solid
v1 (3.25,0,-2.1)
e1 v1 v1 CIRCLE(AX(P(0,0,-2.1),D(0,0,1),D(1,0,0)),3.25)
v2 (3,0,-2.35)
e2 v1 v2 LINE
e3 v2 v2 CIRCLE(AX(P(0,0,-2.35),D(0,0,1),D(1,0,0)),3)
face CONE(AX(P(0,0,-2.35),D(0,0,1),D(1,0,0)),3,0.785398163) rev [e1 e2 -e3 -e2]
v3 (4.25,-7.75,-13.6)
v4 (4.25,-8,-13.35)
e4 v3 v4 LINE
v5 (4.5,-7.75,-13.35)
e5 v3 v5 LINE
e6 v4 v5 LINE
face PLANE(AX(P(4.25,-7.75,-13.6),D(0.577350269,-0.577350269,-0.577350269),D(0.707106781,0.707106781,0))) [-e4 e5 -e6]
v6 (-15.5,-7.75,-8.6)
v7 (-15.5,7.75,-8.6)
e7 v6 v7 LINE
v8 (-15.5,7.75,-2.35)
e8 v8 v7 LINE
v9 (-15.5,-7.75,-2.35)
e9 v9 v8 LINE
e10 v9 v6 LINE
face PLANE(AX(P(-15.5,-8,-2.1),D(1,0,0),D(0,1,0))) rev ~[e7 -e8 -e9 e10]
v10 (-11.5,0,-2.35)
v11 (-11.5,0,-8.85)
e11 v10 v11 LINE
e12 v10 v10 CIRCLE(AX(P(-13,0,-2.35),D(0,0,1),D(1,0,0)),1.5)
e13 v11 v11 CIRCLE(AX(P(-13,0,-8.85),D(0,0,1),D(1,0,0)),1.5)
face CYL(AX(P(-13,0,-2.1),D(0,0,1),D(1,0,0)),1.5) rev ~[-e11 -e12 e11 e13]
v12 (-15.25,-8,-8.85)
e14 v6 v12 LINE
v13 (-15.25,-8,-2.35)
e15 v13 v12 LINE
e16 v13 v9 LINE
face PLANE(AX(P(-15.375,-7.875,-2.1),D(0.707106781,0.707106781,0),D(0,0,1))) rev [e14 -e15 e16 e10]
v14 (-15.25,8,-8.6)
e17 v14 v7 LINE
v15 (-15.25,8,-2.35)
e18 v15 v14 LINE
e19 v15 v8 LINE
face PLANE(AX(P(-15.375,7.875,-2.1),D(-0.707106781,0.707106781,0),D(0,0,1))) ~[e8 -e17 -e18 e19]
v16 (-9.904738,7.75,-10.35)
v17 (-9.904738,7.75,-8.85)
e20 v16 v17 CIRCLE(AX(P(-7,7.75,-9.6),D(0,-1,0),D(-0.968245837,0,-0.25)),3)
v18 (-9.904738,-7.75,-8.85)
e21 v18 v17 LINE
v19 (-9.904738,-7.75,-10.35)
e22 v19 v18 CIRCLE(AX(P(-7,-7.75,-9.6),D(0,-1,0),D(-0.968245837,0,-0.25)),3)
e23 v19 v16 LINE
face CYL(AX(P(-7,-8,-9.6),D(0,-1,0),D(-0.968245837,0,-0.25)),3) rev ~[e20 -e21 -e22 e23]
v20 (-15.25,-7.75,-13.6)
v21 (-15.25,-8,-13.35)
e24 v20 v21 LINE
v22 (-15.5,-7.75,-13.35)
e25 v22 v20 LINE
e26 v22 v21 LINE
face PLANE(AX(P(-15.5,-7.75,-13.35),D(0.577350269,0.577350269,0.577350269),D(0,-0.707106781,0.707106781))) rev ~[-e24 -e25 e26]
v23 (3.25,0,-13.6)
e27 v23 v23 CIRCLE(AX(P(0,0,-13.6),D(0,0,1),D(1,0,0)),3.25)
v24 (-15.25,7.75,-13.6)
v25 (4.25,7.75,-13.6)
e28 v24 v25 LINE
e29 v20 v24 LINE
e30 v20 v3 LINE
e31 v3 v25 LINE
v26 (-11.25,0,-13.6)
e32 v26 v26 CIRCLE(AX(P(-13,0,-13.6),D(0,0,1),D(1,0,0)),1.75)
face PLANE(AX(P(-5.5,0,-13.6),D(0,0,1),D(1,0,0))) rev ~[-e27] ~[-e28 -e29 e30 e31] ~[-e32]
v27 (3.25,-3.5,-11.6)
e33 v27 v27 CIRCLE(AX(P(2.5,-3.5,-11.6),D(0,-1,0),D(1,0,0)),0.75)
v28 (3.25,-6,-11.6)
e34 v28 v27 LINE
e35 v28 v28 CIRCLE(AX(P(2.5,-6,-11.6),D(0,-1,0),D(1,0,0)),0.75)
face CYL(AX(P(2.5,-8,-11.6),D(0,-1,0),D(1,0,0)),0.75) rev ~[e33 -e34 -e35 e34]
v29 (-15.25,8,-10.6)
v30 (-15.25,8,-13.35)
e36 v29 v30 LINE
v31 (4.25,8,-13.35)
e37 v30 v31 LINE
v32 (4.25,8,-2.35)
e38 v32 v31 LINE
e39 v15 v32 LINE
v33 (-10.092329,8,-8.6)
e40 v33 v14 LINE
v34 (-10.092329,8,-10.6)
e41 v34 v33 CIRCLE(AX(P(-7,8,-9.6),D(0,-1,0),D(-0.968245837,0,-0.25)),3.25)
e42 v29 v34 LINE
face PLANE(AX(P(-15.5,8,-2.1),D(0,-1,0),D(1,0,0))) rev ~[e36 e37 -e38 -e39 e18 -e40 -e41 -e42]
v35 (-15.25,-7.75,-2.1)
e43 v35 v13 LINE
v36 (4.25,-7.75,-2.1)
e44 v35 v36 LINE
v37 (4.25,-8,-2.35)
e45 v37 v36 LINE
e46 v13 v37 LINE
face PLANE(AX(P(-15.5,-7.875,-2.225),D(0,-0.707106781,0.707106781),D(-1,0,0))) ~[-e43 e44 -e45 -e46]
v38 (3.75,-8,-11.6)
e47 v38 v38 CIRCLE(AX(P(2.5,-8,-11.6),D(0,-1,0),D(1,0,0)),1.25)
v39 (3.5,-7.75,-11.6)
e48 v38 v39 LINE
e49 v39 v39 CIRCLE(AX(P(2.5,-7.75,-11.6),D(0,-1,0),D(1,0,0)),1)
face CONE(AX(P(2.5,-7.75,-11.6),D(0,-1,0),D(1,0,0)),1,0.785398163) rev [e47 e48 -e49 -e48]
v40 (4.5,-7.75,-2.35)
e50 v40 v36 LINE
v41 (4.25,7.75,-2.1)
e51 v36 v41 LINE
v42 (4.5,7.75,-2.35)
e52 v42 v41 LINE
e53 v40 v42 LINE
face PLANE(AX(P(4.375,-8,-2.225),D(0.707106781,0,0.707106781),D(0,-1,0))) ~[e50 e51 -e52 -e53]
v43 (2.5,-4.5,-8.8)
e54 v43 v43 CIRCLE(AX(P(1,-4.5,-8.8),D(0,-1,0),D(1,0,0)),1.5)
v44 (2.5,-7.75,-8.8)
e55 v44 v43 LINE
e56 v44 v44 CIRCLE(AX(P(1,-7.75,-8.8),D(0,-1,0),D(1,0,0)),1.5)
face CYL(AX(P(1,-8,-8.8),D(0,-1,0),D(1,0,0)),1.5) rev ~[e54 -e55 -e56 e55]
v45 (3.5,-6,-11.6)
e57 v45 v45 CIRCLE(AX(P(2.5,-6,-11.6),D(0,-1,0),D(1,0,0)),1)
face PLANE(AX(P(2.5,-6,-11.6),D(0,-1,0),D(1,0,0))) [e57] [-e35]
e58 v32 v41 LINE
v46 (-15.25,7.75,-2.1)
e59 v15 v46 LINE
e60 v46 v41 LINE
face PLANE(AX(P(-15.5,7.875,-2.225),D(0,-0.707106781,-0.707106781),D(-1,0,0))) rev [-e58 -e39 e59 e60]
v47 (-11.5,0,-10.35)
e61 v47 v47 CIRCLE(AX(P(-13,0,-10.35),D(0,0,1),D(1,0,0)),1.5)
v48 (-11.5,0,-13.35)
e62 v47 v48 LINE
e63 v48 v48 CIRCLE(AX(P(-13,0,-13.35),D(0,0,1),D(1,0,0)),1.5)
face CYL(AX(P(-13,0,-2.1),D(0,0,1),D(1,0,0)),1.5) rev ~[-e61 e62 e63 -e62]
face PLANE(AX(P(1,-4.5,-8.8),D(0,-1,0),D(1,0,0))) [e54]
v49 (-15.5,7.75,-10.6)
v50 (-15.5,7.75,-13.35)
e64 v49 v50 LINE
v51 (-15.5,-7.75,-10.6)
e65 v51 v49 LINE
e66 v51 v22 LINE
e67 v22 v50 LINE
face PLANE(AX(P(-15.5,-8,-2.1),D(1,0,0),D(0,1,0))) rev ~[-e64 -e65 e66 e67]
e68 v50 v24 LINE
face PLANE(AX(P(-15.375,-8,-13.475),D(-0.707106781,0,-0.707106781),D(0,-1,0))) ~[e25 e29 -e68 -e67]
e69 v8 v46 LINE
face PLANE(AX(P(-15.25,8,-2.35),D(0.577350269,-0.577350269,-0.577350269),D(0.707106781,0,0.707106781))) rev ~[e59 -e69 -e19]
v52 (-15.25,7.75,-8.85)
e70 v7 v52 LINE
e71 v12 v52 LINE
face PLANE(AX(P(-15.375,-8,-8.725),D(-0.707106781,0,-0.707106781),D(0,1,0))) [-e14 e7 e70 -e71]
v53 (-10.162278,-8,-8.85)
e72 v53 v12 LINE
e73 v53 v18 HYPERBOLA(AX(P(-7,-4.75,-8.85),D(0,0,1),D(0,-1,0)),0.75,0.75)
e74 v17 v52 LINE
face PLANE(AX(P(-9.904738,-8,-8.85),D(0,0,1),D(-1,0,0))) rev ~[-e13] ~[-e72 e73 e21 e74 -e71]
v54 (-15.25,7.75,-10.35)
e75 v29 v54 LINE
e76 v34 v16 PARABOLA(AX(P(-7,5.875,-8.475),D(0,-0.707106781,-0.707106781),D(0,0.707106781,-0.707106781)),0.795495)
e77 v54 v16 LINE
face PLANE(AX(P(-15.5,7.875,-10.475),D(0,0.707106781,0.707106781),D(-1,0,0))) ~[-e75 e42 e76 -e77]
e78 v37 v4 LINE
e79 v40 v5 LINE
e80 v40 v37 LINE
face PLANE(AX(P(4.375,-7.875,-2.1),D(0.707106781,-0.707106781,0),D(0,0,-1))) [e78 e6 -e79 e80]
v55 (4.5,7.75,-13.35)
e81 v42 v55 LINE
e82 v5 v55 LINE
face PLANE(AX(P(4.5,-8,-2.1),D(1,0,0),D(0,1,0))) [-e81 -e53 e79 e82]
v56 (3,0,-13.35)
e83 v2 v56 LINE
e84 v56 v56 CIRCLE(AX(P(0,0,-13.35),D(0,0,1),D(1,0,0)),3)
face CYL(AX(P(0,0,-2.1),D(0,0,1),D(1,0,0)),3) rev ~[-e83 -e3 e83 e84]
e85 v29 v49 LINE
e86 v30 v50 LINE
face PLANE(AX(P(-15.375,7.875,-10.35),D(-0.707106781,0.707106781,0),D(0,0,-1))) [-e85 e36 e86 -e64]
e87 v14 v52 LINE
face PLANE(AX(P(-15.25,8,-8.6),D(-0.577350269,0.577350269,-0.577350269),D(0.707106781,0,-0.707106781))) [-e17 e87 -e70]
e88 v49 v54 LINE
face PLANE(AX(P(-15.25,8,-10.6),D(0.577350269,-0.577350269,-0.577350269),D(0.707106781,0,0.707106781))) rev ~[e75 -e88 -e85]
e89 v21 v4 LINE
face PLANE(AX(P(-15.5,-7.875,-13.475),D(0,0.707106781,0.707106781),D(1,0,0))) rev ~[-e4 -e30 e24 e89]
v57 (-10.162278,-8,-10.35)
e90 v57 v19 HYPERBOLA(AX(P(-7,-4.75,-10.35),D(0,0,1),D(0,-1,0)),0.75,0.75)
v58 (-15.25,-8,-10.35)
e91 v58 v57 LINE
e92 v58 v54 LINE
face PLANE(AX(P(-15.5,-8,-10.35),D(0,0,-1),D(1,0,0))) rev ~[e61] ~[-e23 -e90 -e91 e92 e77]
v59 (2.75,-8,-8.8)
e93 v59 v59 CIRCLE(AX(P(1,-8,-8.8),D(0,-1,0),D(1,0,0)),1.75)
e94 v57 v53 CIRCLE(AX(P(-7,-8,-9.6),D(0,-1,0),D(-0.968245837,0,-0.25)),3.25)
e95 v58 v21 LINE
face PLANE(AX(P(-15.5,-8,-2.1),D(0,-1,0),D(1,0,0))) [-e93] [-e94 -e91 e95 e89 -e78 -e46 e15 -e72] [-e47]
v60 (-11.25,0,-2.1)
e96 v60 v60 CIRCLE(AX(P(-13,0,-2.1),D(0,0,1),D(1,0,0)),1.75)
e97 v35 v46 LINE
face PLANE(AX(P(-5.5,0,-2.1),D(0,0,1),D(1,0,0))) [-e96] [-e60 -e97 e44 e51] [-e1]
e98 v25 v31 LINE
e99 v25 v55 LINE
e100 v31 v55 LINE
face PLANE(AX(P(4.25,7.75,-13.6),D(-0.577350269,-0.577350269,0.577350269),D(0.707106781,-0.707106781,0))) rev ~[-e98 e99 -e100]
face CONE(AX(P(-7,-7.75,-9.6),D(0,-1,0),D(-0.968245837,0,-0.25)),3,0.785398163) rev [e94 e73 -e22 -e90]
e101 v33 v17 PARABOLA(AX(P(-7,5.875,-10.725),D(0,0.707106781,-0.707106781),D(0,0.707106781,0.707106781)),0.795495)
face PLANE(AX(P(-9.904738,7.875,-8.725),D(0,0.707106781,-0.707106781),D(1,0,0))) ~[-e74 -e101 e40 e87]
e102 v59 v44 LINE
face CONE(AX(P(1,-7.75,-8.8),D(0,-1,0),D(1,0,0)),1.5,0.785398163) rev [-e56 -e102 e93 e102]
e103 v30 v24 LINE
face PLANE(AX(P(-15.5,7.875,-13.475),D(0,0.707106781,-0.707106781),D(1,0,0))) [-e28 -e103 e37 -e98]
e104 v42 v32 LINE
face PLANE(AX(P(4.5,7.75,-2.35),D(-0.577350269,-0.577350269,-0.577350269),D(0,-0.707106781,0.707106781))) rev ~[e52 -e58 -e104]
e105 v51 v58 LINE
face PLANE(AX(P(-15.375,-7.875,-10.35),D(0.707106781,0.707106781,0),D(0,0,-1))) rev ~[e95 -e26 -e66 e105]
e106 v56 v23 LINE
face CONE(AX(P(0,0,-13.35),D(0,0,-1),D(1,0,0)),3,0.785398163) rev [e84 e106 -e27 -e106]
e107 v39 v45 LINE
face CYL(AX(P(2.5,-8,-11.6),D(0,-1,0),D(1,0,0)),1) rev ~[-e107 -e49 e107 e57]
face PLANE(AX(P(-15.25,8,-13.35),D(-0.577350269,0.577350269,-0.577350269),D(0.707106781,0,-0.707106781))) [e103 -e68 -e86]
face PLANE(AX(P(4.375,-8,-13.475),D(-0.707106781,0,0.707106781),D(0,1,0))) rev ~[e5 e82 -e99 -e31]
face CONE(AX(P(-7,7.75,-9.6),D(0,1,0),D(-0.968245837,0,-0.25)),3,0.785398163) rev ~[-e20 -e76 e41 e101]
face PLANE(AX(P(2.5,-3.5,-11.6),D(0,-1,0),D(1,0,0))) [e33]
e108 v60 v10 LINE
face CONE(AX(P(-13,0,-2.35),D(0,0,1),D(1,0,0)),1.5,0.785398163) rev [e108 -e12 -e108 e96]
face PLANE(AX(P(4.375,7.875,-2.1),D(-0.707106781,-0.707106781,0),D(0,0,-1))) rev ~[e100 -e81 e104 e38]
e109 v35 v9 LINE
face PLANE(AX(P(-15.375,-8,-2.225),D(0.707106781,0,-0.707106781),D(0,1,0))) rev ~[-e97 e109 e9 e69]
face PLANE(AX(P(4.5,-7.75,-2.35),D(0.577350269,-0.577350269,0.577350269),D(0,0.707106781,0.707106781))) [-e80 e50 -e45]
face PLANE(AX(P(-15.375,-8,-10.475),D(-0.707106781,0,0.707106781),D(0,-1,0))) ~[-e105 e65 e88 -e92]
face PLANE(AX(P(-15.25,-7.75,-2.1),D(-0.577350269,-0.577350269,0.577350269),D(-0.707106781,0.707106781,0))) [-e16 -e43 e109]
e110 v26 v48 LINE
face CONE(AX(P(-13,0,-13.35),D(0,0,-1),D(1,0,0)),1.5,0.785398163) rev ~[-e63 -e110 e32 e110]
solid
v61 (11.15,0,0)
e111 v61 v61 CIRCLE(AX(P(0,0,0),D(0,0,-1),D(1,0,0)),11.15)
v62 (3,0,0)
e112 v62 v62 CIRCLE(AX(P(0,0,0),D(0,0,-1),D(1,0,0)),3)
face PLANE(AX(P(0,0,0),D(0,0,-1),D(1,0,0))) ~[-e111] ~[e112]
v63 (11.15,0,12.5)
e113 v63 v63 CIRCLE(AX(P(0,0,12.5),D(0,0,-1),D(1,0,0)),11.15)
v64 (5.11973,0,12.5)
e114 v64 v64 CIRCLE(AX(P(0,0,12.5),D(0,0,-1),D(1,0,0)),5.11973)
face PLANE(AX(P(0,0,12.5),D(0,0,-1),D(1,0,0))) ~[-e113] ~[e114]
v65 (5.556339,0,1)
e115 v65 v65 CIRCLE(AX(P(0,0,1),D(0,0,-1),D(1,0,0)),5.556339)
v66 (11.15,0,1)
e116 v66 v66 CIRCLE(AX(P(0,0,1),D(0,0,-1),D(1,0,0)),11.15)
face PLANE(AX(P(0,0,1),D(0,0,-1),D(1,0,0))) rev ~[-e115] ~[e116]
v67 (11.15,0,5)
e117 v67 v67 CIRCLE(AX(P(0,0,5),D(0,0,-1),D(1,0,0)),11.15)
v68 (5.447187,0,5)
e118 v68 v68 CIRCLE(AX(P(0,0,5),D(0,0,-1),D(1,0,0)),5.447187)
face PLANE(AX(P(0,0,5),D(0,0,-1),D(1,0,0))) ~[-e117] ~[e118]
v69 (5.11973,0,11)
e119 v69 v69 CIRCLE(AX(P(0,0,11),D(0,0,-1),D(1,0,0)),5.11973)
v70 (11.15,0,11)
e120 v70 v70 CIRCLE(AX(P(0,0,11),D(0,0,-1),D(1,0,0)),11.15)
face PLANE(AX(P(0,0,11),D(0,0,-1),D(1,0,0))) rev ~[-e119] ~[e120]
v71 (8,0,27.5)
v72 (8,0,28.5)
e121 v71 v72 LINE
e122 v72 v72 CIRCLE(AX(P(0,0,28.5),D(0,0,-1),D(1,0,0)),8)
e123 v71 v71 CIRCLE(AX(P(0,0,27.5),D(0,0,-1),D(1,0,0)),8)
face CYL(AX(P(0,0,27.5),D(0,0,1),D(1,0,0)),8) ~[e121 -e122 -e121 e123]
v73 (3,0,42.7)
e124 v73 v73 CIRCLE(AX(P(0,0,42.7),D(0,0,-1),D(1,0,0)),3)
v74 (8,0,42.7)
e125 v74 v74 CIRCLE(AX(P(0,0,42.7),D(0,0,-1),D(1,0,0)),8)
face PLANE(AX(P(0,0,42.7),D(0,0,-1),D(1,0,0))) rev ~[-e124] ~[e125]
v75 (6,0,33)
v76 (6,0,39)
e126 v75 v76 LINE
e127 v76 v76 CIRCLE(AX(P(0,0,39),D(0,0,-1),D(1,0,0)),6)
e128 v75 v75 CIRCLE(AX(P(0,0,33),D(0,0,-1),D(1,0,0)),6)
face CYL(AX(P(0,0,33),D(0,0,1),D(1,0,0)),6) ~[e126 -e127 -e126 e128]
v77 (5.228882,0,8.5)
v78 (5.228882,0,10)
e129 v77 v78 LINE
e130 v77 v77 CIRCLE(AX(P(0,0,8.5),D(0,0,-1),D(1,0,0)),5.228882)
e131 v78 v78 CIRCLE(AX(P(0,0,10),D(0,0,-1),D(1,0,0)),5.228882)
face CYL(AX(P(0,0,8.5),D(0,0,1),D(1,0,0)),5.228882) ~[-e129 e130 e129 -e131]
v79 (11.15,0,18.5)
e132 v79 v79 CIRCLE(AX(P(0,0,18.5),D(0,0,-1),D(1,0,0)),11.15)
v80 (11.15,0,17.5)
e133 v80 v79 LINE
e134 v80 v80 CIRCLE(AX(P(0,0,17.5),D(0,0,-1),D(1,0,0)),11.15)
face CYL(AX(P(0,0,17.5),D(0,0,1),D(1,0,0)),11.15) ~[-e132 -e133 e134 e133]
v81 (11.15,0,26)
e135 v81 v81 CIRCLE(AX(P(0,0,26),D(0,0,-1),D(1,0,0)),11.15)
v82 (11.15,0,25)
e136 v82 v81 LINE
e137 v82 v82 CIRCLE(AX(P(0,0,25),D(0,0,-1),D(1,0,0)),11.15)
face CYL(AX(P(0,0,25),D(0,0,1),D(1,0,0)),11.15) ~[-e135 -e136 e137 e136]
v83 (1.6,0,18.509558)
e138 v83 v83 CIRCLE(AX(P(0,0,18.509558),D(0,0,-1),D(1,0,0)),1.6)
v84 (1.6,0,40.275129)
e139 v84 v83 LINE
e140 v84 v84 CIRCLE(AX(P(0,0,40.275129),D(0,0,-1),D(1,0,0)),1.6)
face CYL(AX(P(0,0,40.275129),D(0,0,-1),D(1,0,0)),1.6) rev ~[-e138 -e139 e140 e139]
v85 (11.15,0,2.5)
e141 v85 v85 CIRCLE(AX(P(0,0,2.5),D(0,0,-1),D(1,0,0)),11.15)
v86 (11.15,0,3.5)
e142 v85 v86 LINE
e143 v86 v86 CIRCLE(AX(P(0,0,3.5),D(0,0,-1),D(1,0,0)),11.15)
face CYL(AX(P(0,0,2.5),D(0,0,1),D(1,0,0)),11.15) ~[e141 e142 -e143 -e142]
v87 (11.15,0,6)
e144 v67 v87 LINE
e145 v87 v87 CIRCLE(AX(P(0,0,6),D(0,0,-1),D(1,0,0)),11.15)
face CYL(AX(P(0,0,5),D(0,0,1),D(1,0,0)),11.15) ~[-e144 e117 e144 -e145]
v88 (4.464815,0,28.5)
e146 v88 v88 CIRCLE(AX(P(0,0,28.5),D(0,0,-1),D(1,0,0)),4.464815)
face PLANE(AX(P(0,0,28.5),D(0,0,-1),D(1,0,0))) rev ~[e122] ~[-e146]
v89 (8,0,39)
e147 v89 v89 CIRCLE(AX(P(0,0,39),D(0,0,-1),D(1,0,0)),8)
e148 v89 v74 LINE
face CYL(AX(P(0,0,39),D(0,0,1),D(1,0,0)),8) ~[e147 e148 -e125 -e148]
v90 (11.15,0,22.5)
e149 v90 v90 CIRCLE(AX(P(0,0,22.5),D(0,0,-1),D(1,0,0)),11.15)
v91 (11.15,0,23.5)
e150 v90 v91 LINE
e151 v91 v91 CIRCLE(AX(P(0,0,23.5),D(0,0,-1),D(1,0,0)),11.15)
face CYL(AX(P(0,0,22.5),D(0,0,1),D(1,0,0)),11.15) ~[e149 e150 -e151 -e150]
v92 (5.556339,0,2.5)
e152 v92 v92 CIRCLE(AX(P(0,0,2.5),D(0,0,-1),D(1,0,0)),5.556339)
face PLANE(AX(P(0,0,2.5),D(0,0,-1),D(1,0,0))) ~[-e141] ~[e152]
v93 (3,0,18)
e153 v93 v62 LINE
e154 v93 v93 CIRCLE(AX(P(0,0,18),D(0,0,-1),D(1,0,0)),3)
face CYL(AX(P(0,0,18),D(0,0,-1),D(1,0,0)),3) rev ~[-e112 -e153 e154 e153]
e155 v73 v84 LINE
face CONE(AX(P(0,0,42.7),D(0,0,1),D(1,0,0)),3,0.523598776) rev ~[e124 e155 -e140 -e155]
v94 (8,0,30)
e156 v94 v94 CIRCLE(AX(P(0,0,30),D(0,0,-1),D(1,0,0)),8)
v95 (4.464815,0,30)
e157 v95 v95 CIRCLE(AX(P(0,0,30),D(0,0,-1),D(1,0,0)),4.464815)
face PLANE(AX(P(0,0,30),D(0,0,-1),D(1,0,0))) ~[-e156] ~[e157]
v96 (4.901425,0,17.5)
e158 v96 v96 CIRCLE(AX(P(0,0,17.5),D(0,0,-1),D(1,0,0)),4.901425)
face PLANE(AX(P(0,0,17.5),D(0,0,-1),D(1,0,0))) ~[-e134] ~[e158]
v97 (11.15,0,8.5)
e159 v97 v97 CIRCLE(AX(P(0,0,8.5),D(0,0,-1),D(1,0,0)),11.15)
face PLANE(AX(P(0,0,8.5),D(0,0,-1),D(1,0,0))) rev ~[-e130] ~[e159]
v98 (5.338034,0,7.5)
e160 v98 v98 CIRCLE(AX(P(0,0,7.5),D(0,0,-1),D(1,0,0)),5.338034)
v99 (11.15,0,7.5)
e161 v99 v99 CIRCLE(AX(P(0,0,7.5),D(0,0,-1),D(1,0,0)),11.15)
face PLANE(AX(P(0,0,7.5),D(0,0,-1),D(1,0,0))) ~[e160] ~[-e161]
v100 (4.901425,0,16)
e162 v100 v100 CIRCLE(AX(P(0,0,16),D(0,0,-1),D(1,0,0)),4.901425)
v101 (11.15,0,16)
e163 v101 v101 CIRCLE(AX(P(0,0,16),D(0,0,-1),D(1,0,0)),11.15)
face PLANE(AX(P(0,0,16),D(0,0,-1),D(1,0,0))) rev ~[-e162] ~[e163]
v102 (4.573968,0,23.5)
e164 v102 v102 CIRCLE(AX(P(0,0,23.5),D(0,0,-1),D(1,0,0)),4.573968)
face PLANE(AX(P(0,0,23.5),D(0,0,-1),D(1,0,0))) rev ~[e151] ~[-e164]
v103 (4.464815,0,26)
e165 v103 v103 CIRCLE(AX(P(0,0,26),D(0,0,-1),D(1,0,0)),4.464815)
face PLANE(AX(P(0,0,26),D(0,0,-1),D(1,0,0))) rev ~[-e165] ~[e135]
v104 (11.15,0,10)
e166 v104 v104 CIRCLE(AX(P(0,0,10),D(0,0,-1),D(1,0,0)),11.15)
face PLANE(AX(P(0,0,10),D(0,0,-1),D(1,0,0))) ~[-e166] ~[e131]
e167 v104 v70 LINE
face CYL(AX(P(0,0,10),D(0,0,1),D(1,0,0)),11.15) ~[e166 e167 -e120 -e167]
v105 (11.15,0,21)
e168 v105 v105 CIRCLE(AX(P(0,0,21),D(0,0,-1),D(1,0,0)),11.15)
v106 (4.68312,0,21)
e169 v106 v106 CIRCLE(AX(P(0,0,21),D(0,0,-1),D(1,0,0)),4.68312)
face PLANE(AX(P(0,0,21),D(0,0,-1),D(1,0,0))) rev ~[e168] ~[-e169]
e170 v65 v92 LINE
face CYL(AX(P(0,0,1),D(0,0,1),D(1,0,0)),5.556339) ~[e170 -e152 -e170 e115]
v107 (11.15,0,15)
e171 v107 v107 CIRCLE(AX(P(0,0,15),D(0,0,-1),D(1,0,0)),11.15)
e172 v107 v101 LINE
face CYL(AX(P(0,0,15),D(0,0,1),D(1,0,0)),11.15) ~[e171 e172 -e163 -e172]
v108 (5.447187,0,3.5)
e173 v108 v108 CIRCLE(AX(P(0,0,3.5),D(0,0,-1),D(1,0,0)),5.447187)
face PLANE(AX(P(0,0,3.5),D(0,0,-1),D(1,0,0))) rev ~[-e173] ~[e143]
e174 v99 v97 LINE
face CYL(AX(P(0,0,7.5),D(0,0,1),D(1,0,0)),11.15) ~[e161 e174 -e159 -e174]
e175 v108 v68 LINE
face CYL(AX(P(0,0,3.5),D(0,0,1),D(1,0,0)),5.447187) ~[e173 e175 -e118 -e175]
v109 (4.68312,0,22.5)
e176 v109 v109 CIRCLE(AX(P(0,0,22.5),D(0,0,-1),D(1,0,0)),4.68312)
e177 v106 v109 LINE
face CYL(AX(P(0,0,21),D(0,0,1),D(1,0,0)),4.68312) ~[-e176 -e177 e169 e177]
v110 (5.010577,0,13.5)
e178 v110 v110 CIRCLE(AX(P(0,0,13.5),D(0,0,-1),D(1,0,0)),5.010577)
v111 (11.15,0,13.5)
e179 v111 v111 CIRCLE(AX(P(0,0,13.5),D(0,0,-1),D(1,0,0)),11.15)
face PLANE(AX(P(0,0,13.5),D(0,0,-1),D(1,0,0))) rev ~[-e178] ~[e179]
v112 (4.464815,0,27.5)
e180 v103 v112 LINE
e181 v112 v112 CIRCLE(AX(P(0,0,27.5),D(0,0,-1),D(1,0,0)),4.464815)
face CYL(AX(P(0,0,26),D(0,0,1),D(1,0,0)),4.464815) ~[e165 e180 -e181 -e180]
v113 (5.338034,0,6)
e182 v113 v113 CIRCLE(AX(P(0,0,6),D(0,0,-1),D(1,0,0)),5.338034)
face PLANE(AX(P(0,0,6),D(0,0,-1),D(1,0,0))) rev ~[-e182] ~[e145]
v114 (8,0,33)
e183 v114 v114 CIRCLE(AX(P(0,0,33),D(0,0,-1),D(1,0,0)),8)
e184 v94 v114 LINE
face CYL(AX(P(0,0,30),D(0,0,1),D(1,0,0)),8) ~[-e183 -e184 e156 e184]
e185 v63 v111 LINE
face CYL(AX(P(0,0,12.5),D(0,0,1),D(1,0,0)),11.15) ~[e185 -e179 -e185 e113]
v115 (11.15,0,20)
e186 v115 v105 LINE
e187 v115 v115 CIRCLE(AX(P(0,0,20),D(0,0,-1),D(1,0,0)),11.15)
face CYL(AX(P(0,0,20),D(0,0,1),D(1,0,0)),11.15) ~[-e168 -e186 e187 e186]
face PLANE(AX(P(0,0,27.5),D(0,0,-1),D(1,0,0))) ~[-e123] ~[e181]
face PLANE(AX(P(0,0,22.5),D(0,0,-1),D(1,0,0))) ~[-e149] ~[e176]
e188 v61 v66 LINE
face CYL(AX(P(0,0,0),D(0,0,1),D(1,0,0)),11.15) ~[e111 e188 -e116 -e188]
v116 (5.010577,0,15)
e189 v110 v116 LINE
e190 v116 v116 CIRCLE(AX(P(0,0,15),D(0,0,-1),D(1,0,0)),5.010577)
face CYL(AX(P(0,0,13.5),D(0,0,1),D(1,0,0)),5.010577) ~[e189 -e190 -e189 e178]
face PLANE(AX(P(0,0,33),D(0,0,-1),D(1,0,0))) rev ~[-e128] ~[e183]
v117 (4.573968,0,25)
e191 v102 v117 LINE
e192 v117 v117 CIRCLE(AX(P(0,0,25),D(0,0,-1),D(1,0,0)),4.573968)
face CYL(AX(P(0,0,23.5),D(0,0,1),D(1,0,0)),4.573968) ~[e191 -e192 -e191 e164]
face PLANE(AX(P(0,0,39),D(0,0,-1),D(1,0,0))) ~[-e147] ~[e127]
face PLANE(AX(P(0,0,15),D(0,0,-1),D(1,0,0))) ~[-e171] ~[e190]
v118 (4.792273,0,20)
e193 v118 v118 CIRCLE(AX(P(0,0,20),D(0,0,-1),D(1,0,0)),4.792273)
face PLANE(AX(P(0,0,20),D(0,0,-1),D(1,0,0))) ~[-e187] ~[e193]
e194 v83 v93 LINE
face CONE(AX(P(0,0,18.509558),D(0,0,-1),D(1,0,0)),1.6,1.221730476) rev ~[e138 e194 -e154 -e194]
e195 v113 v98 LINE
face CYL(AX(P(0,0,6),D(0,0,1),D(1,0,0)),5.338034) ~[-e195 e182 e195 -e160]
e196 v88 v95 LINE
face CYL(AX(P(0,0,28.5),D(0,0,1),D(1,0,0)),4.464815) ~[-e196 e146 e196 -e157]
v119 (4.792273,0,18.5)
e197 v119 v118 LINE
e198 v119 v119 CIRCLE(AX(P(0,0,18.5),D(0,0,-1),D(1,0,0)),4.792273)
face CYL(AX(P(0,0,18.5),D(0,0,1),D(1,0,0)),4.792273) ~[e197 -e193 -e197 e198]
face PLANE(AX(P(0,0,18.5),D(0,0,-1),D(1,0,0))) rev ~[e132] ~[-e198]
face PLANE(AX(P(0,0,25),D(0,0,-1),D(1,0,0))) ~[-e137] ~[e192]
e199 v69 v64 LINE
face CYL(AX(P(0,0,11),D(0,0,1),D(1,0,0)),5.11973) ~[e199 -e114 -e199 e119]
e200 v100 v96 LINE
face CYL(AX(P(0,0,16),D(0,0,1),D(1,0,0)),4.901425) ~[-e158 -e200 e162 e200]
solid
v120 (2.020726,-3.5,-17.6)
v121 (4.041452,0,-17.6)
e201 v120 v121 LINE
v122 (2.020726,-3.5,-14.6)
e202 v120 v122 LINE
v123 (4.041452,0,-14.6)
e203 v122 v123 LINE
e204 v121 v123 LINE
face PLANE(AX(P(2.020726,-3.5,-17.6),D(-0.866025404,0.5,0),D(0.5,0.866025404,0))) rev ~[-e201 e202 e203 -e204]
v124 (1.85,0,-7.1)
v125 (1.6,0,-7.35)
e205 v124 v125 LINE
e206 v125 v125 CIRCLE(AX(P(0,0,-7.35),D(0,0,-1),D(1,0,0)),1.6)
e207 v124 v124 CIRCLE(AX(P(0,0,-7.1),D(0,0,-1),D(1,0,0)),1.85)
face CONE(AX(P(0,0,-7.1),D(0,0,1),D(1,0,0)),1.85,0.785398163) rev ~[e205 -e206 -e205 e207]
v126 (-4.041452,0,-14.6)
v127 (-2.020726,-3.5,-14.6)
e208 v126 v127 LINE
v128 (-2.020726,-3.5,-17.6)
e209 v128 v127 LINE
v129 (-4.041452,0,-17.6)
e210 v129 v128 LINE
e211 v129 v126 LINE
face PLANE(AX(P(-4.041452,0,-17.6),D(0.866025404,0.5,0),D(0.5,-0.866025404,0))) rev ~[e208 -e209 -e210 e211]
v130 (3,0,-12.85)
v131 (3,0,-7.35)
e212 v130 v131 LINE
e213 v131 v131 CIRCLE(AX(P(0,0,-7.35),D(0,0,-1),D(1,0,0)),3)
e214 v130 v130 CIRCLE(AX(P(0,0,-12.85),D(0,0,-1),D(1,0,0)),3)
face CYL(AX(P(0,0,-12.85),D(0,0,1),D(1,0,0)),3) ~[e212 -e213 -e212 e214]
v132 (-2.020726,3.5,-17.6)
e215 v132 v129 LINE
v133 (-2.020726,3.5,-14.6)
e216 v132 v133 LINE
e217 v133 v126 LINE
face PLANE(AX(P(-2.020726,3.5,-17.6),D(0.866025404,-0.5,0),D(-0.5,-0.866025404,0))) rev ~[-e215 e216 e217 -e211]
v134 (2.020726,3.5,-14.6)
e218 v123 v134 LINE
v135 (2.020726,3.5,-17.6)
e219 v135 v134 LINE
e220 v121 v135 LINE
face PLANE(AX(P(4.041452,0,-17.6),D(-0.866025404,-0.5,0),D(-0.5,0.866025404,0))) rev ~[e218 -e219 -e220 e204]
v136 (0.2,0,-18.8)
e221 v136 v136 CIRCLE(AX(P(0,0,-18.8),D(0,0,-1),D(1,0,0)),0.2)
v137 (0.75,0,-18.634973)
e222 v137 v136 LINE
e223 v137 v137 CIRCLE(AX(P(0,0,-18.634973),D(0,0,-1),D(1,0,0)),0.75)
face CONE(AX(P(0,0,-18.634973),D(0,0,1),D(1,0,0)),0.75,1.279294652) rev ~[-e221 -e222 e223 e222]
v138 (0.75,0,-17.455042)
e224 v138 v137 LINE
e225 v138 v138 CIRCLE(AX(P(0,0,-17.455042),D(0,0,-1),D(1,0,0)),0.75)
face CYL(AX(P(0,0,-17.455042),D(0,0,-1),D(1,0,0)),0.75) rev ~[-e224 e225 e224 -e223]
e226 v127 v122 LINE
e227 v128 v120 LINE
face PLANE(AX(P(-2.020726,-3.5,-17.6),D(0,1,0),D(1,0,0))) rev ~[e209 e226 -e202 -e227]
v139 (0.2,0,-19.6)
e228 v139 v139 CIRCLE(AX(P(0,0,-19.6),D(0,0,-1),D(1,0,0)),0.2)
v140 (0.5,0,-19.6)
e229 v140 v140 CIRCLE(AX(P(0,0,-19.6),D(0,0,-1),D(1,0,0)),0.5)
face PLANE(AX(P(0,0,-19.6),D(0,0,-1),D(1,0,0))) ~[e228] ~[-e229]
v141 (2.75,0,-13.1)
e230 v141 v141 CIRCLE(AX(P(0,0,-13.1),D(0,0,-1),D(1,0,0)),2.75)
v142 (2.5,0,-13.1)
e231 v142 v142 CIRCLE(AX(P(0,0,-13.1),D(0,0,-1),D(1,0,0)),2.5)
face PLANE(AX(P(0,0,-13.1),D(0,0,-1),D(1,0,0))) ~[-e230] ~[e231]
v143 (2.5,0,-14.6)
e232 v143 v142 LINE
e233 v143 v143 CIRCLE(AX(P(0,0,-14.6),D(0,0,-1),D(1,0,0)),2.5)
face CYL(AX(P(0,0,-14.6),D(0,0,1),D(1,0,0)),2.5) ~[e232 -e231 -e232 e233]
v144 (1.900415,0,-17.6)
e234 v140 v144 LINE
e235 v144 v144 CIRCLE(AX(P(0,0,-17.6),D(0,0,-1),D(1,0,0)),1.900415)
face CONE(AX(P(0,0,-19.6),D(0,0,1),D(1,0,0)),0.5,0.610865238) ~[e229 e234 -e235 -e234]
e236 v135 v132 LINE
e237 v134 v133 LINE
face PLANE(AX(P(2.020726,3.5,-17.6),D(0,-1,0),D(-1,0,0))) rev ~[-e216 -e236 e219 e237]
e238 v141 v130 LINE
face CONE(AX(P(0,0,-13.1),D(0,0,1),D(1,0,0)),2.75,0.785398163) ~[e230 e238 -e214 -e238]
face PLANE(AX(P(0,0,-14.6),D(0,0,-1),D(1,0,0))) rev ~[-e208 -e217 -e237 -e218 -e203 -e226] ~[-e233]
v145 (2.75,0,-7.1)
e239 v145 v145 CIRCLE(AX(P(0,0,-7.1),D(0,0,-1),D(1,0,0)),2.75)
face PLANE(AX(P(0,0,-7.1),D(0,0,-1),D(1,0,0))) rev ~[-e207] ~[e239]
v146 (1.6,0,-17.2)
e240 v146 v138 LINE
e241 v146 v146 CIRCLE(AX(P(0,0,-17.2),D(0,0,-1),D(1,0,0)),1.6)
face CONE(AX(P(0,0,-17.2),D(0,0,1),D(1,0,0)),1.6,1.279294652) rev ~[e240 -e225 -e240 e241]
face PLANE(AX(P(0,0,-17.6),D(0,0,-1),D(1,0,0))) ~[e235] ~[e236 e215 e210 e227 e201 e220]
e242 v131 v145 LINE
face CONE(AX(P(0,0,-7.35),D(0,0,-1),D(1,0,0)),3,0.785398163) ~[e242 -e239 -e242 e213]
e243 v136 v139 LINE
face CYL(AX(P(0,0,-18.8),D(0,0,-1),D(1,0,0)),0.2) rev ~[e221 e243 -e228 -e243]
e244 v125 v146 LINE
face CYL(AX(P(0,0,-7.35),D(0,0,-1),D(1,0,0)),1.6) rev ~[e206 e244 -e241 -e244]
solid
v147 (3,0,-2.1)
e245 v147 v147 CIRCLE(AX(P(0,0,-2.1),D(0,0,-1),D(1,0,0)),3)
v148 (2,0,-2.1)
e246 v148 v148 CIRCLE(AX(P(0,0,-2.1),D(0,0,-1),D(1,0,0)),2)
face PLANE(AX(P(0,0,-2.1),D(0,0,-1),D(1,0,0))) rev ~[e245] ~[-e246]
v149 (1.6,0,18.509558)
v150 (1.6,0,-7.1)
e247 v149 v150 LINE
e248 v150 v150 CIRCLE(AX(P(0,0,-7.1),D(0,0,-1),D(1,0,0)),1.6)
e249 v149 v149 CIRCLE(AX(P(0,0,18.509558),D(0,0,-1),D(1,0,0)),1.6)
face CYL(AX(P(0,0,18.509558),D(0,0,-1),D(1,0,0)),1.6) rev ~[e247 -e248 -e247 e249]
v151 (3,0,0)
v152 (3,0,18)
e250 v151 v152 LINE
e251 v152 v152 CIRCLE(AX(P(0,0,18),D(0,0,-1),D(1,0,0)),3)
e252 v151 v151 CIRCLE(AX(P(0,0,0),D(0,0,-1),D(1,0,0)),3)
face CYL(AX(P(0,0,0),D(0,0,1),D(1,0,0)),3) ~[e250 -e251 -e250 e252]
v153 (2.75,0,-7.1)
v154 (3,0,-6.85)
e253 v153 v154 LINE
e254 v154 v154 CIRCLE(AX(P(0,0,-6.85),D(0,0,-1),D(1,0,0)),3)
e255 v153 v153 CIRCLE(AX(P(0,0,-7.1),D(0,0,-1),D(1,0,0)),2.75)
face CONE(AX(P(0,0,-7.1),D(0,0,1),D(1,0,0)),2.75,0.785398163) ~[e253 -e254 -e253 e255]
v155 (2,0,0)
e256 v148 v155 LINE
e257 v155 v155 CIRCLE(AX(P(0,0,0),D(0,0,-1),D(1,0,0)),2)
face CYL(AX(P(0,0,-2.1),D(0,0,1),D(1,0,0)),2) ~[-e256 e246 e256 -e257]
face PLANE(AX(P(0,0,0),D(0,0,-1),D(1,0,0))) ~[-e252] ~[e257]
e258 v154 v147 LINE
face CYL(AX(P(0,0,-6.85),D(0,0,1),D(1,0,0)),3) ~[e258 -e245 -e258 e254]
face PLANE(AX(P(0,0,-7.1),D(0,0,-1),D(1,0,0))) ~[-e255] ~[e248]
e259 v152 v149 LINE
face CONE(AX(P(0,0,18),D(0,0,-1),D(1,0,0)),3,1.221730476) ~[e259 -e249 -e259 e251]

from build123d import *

# Parameters (mm, degrees)
F4_R      = 5
F5_DEPTH  = 3
F6_W      = 20
F6_H      = 16
F6_R      = 1.5
F6_R_2    = 3
F7_DEPTH  = 11.5
F9_DEPTH  = 19.151
F8_R      = 1.5
F10_DEPTH = 3.5
F8_R_2    = 0.75
F11_DEPTH = 4.5
F8_R_3    = 1
F12_DEPTH = 2
F13_SIZE  = 0.25


with BuildPart() as f1:
    # F0 (on Front) → F1 (revolve)
    with BuildSketch(Plane.XZ):
        Polygon((1.6, 40.2751288694), (1.6, 18.509558328), (3, 18), (3, 0), (11.15, 0), (11.15, 1), (5.5563390571, 1), (5.5563390571, 2.5), (11.15, 2.5), (11.15, 3.5), (5.4471866998, 3.5), (5.4471866998, 5), (11.15, 5), (11.15, 6), (5.3380343425, 6), (5.3380343425, 7.5), (11.15, 7.5), (11.15, 8.5), (5.2288819853, 8.5), (5.2288819853, 10), (11.15, 10), (11.15, 11), (5.119729628, 11), (5.119729628, 12.5), (11.15, 12.5), (11.15, 13.5), (5.0105772707, 13.5), (5.0105772707, 15), (11.15, 15), (11.15, 16), (4.9014249135, 16), (4.9014249135, 17.5), (11.15, 17.5), (11.15, 18.5), (4.7922725562, 18.5), (4.7922725562, 20), (11.15, 20), (11.15, 21), (4.6831201989, 21), (4.6831201989, 22.5), (11.15, 22.5), (11.15, 23.5), (4.5739678416, 23.5), (4.5739678416, 25), (11.15, 25), (11.15, 26), (4.4648154844, 26), (4.4648154844, 27.5), (8, 27.5), (8, 28.5), (4.4648154844, 28.5), (4.4648154844, 30), (8, 30), (8, 33), (6, 33), (6, 39), (8, 39), (8, 42.7), (3, 42.7), align=None)
    revolve(axis=Axis((0, 0, 21.35), (0, 0, -1)))


with BuildPart() as f2:
    # F0 (on Front) → F2 (revolve)
    with BuildSketch(Plane.XZ):
        Polygon((1.6, 18.509558328), (1.6, 0), (2, 0), (3, 0), (3, 18), align=None)
        Polygon((2, 0), (1.6, 0), (1.6, -7.1), (1.85, -7.1), (2.75, -7.1), (3, -6.85), (3, -2.1), (2, -2.1), align=None)
    revolve(axis=Axis((0, 0, 21.35), (0, 0, -1)))


with BuildPart() as f3:
    # F0 (on Front) → F3 (revolve)
    with BuildSketch(Plane.XZ):
        Polygon((2.75, -7.1), (1.85, -7.1), (1.6, -7.35), (1.6, -17.2), (0.75, -17.4550415822), (0.75, -18.6349730939), (0.2, -18.8), (0.2, -19.6), (0.5, -19.6), (1.9004150764, -17.6), (5, -17.6), (5, -14.6), (2.5, -14.6), (2.5, -13.1), (2.75, -13.1), (3, -12.85), (3, -7.35), align=None)
    revolve(axis=Axis((0, 0, 21.35), (0, 0, -1)))

    # F4 (on face) → F5 (cut, through all)
    with BuildSketch(Plane(origin=(0, 0, -17.6), x_dir=(1, 0, 0), z_dir=(0, 0, -1))):
        Circle(F4_R)
        Polygon((-4.0414518843, 0), (-2.0207259422, 3.5), (2.0207259422, 3.5), (4.0414518843, 0), (2.0207259422, -3.5), (-2.0207259422, -3.5), align=None, mode=Mode.SUBTRACT)
    extrude(amount=-F5_DEPTH, mode=Mode.SUBTRACT)


with BuildPart() as f7:
    # F6 (on face) → F7 (new body)
    with BuildSketch(Plane.XY.offset(-2.1)):
        with Locations((-5.5, 0)):
            Rectangle(F6_W, F6_H)
        with Locations((-13, 0)):
            Circle(F6_R, mode=Mode.SUBTRACT)
        Circle(F6_R_2, mode=Mode.SUBTRACT)
    extrude(amount=-F7_DEPTH)

    # F8 (on face) → F9 (cut, through all)
    with BuildSketch(Plane.XZ.offset(8)):
        with BuildLine():
            Line((-15.5, -10.35), (-9.9047375097, -10.35))
            ThreePointArc((-9.9047375097, -10.35), (-4, -9.6), (-9.9047375097, -8.85))
            Line((-9.9047375097, -8.85), (-15.5, -8.85))
            Line((-15.5, -8.85), (-15.5, -10.35))
        make_face()
    extrude(amount=-F9_DEPTH, mode=Mode.SUBTRACT)

    # F8 (on face) → F10 (cut)
    with BuildSketch(Plane.XZ.offset(8)):
        with Locations((1, -8.8)):
            Circle(F8_R)
    extrude(amount=-F10_DEPTH, mode=Mode.SUBTRACT)

    # F8 (on face) → F11 (cut)
    with BuildSketch(Plane.XZ.offset(8)):
        with Locations((2.5, -11.6)):
            Circle(F8_R_2)
    extrude(amount=-F11_DEPTH, mode=Mode.SUBTRACT)

    # F8 (on face) → F12 (cut)
    with BuildSketch(Plane.XZ.offset(8)):
        with Locations((2.5, -11.6)):
            Circle(F8_R_3)
        with Locations((2.5, -11.6)):
            Circle(F8_R_2, mode=Mode.SUBTRACT)
    extrude(amount=-F12_DEPTH, mode=Mode.SUBTRACT)

    # F13
    f13_edges = [f7.edges().sort_by_distance(p)[0] for p in [
        (-15.5, -8, -5.475),
        (-5.5, -8, -2.1),
        (4.5, -8, -7.85),
        (-5.5, -8, -13.6),
        (-15.5, 0, -10.35),
        (-15.5, 0, -8.85),
        (-15.5, 0, -13.6),
        (-15.5, 0, -2.1),
        (-15.5, 8, -5.475),
        (-15.5, 8, -11.975),
        (-12.702369, 8, -8.85),
        (-12.702369, 8, -10.35),
        (-4, 8, -9.6),
        (-5.5, 8, -2.1),
        (4.5, 8, -7.85),
        (-5.5, 8, -13.6),
        (-14.5, 0, -13.6),
        (-3, 0, -13.6),
        (4.5, 0, -13.6),
        (4.5, 0, -2.1),
        (-15.5, -8, -11.975),
        (-14.5, 0, -2.1),
        (-3, 0, -2.1),
        (-0.5, -8, -8.8),
        (1.5, -8, -11.6),
        (-4, -8, -9.6),
    ]]
    chamfer(f13_edges, length=F13_SIZE)


solid = Compound([f1.part, f2.part, f3.part, f7.part])
